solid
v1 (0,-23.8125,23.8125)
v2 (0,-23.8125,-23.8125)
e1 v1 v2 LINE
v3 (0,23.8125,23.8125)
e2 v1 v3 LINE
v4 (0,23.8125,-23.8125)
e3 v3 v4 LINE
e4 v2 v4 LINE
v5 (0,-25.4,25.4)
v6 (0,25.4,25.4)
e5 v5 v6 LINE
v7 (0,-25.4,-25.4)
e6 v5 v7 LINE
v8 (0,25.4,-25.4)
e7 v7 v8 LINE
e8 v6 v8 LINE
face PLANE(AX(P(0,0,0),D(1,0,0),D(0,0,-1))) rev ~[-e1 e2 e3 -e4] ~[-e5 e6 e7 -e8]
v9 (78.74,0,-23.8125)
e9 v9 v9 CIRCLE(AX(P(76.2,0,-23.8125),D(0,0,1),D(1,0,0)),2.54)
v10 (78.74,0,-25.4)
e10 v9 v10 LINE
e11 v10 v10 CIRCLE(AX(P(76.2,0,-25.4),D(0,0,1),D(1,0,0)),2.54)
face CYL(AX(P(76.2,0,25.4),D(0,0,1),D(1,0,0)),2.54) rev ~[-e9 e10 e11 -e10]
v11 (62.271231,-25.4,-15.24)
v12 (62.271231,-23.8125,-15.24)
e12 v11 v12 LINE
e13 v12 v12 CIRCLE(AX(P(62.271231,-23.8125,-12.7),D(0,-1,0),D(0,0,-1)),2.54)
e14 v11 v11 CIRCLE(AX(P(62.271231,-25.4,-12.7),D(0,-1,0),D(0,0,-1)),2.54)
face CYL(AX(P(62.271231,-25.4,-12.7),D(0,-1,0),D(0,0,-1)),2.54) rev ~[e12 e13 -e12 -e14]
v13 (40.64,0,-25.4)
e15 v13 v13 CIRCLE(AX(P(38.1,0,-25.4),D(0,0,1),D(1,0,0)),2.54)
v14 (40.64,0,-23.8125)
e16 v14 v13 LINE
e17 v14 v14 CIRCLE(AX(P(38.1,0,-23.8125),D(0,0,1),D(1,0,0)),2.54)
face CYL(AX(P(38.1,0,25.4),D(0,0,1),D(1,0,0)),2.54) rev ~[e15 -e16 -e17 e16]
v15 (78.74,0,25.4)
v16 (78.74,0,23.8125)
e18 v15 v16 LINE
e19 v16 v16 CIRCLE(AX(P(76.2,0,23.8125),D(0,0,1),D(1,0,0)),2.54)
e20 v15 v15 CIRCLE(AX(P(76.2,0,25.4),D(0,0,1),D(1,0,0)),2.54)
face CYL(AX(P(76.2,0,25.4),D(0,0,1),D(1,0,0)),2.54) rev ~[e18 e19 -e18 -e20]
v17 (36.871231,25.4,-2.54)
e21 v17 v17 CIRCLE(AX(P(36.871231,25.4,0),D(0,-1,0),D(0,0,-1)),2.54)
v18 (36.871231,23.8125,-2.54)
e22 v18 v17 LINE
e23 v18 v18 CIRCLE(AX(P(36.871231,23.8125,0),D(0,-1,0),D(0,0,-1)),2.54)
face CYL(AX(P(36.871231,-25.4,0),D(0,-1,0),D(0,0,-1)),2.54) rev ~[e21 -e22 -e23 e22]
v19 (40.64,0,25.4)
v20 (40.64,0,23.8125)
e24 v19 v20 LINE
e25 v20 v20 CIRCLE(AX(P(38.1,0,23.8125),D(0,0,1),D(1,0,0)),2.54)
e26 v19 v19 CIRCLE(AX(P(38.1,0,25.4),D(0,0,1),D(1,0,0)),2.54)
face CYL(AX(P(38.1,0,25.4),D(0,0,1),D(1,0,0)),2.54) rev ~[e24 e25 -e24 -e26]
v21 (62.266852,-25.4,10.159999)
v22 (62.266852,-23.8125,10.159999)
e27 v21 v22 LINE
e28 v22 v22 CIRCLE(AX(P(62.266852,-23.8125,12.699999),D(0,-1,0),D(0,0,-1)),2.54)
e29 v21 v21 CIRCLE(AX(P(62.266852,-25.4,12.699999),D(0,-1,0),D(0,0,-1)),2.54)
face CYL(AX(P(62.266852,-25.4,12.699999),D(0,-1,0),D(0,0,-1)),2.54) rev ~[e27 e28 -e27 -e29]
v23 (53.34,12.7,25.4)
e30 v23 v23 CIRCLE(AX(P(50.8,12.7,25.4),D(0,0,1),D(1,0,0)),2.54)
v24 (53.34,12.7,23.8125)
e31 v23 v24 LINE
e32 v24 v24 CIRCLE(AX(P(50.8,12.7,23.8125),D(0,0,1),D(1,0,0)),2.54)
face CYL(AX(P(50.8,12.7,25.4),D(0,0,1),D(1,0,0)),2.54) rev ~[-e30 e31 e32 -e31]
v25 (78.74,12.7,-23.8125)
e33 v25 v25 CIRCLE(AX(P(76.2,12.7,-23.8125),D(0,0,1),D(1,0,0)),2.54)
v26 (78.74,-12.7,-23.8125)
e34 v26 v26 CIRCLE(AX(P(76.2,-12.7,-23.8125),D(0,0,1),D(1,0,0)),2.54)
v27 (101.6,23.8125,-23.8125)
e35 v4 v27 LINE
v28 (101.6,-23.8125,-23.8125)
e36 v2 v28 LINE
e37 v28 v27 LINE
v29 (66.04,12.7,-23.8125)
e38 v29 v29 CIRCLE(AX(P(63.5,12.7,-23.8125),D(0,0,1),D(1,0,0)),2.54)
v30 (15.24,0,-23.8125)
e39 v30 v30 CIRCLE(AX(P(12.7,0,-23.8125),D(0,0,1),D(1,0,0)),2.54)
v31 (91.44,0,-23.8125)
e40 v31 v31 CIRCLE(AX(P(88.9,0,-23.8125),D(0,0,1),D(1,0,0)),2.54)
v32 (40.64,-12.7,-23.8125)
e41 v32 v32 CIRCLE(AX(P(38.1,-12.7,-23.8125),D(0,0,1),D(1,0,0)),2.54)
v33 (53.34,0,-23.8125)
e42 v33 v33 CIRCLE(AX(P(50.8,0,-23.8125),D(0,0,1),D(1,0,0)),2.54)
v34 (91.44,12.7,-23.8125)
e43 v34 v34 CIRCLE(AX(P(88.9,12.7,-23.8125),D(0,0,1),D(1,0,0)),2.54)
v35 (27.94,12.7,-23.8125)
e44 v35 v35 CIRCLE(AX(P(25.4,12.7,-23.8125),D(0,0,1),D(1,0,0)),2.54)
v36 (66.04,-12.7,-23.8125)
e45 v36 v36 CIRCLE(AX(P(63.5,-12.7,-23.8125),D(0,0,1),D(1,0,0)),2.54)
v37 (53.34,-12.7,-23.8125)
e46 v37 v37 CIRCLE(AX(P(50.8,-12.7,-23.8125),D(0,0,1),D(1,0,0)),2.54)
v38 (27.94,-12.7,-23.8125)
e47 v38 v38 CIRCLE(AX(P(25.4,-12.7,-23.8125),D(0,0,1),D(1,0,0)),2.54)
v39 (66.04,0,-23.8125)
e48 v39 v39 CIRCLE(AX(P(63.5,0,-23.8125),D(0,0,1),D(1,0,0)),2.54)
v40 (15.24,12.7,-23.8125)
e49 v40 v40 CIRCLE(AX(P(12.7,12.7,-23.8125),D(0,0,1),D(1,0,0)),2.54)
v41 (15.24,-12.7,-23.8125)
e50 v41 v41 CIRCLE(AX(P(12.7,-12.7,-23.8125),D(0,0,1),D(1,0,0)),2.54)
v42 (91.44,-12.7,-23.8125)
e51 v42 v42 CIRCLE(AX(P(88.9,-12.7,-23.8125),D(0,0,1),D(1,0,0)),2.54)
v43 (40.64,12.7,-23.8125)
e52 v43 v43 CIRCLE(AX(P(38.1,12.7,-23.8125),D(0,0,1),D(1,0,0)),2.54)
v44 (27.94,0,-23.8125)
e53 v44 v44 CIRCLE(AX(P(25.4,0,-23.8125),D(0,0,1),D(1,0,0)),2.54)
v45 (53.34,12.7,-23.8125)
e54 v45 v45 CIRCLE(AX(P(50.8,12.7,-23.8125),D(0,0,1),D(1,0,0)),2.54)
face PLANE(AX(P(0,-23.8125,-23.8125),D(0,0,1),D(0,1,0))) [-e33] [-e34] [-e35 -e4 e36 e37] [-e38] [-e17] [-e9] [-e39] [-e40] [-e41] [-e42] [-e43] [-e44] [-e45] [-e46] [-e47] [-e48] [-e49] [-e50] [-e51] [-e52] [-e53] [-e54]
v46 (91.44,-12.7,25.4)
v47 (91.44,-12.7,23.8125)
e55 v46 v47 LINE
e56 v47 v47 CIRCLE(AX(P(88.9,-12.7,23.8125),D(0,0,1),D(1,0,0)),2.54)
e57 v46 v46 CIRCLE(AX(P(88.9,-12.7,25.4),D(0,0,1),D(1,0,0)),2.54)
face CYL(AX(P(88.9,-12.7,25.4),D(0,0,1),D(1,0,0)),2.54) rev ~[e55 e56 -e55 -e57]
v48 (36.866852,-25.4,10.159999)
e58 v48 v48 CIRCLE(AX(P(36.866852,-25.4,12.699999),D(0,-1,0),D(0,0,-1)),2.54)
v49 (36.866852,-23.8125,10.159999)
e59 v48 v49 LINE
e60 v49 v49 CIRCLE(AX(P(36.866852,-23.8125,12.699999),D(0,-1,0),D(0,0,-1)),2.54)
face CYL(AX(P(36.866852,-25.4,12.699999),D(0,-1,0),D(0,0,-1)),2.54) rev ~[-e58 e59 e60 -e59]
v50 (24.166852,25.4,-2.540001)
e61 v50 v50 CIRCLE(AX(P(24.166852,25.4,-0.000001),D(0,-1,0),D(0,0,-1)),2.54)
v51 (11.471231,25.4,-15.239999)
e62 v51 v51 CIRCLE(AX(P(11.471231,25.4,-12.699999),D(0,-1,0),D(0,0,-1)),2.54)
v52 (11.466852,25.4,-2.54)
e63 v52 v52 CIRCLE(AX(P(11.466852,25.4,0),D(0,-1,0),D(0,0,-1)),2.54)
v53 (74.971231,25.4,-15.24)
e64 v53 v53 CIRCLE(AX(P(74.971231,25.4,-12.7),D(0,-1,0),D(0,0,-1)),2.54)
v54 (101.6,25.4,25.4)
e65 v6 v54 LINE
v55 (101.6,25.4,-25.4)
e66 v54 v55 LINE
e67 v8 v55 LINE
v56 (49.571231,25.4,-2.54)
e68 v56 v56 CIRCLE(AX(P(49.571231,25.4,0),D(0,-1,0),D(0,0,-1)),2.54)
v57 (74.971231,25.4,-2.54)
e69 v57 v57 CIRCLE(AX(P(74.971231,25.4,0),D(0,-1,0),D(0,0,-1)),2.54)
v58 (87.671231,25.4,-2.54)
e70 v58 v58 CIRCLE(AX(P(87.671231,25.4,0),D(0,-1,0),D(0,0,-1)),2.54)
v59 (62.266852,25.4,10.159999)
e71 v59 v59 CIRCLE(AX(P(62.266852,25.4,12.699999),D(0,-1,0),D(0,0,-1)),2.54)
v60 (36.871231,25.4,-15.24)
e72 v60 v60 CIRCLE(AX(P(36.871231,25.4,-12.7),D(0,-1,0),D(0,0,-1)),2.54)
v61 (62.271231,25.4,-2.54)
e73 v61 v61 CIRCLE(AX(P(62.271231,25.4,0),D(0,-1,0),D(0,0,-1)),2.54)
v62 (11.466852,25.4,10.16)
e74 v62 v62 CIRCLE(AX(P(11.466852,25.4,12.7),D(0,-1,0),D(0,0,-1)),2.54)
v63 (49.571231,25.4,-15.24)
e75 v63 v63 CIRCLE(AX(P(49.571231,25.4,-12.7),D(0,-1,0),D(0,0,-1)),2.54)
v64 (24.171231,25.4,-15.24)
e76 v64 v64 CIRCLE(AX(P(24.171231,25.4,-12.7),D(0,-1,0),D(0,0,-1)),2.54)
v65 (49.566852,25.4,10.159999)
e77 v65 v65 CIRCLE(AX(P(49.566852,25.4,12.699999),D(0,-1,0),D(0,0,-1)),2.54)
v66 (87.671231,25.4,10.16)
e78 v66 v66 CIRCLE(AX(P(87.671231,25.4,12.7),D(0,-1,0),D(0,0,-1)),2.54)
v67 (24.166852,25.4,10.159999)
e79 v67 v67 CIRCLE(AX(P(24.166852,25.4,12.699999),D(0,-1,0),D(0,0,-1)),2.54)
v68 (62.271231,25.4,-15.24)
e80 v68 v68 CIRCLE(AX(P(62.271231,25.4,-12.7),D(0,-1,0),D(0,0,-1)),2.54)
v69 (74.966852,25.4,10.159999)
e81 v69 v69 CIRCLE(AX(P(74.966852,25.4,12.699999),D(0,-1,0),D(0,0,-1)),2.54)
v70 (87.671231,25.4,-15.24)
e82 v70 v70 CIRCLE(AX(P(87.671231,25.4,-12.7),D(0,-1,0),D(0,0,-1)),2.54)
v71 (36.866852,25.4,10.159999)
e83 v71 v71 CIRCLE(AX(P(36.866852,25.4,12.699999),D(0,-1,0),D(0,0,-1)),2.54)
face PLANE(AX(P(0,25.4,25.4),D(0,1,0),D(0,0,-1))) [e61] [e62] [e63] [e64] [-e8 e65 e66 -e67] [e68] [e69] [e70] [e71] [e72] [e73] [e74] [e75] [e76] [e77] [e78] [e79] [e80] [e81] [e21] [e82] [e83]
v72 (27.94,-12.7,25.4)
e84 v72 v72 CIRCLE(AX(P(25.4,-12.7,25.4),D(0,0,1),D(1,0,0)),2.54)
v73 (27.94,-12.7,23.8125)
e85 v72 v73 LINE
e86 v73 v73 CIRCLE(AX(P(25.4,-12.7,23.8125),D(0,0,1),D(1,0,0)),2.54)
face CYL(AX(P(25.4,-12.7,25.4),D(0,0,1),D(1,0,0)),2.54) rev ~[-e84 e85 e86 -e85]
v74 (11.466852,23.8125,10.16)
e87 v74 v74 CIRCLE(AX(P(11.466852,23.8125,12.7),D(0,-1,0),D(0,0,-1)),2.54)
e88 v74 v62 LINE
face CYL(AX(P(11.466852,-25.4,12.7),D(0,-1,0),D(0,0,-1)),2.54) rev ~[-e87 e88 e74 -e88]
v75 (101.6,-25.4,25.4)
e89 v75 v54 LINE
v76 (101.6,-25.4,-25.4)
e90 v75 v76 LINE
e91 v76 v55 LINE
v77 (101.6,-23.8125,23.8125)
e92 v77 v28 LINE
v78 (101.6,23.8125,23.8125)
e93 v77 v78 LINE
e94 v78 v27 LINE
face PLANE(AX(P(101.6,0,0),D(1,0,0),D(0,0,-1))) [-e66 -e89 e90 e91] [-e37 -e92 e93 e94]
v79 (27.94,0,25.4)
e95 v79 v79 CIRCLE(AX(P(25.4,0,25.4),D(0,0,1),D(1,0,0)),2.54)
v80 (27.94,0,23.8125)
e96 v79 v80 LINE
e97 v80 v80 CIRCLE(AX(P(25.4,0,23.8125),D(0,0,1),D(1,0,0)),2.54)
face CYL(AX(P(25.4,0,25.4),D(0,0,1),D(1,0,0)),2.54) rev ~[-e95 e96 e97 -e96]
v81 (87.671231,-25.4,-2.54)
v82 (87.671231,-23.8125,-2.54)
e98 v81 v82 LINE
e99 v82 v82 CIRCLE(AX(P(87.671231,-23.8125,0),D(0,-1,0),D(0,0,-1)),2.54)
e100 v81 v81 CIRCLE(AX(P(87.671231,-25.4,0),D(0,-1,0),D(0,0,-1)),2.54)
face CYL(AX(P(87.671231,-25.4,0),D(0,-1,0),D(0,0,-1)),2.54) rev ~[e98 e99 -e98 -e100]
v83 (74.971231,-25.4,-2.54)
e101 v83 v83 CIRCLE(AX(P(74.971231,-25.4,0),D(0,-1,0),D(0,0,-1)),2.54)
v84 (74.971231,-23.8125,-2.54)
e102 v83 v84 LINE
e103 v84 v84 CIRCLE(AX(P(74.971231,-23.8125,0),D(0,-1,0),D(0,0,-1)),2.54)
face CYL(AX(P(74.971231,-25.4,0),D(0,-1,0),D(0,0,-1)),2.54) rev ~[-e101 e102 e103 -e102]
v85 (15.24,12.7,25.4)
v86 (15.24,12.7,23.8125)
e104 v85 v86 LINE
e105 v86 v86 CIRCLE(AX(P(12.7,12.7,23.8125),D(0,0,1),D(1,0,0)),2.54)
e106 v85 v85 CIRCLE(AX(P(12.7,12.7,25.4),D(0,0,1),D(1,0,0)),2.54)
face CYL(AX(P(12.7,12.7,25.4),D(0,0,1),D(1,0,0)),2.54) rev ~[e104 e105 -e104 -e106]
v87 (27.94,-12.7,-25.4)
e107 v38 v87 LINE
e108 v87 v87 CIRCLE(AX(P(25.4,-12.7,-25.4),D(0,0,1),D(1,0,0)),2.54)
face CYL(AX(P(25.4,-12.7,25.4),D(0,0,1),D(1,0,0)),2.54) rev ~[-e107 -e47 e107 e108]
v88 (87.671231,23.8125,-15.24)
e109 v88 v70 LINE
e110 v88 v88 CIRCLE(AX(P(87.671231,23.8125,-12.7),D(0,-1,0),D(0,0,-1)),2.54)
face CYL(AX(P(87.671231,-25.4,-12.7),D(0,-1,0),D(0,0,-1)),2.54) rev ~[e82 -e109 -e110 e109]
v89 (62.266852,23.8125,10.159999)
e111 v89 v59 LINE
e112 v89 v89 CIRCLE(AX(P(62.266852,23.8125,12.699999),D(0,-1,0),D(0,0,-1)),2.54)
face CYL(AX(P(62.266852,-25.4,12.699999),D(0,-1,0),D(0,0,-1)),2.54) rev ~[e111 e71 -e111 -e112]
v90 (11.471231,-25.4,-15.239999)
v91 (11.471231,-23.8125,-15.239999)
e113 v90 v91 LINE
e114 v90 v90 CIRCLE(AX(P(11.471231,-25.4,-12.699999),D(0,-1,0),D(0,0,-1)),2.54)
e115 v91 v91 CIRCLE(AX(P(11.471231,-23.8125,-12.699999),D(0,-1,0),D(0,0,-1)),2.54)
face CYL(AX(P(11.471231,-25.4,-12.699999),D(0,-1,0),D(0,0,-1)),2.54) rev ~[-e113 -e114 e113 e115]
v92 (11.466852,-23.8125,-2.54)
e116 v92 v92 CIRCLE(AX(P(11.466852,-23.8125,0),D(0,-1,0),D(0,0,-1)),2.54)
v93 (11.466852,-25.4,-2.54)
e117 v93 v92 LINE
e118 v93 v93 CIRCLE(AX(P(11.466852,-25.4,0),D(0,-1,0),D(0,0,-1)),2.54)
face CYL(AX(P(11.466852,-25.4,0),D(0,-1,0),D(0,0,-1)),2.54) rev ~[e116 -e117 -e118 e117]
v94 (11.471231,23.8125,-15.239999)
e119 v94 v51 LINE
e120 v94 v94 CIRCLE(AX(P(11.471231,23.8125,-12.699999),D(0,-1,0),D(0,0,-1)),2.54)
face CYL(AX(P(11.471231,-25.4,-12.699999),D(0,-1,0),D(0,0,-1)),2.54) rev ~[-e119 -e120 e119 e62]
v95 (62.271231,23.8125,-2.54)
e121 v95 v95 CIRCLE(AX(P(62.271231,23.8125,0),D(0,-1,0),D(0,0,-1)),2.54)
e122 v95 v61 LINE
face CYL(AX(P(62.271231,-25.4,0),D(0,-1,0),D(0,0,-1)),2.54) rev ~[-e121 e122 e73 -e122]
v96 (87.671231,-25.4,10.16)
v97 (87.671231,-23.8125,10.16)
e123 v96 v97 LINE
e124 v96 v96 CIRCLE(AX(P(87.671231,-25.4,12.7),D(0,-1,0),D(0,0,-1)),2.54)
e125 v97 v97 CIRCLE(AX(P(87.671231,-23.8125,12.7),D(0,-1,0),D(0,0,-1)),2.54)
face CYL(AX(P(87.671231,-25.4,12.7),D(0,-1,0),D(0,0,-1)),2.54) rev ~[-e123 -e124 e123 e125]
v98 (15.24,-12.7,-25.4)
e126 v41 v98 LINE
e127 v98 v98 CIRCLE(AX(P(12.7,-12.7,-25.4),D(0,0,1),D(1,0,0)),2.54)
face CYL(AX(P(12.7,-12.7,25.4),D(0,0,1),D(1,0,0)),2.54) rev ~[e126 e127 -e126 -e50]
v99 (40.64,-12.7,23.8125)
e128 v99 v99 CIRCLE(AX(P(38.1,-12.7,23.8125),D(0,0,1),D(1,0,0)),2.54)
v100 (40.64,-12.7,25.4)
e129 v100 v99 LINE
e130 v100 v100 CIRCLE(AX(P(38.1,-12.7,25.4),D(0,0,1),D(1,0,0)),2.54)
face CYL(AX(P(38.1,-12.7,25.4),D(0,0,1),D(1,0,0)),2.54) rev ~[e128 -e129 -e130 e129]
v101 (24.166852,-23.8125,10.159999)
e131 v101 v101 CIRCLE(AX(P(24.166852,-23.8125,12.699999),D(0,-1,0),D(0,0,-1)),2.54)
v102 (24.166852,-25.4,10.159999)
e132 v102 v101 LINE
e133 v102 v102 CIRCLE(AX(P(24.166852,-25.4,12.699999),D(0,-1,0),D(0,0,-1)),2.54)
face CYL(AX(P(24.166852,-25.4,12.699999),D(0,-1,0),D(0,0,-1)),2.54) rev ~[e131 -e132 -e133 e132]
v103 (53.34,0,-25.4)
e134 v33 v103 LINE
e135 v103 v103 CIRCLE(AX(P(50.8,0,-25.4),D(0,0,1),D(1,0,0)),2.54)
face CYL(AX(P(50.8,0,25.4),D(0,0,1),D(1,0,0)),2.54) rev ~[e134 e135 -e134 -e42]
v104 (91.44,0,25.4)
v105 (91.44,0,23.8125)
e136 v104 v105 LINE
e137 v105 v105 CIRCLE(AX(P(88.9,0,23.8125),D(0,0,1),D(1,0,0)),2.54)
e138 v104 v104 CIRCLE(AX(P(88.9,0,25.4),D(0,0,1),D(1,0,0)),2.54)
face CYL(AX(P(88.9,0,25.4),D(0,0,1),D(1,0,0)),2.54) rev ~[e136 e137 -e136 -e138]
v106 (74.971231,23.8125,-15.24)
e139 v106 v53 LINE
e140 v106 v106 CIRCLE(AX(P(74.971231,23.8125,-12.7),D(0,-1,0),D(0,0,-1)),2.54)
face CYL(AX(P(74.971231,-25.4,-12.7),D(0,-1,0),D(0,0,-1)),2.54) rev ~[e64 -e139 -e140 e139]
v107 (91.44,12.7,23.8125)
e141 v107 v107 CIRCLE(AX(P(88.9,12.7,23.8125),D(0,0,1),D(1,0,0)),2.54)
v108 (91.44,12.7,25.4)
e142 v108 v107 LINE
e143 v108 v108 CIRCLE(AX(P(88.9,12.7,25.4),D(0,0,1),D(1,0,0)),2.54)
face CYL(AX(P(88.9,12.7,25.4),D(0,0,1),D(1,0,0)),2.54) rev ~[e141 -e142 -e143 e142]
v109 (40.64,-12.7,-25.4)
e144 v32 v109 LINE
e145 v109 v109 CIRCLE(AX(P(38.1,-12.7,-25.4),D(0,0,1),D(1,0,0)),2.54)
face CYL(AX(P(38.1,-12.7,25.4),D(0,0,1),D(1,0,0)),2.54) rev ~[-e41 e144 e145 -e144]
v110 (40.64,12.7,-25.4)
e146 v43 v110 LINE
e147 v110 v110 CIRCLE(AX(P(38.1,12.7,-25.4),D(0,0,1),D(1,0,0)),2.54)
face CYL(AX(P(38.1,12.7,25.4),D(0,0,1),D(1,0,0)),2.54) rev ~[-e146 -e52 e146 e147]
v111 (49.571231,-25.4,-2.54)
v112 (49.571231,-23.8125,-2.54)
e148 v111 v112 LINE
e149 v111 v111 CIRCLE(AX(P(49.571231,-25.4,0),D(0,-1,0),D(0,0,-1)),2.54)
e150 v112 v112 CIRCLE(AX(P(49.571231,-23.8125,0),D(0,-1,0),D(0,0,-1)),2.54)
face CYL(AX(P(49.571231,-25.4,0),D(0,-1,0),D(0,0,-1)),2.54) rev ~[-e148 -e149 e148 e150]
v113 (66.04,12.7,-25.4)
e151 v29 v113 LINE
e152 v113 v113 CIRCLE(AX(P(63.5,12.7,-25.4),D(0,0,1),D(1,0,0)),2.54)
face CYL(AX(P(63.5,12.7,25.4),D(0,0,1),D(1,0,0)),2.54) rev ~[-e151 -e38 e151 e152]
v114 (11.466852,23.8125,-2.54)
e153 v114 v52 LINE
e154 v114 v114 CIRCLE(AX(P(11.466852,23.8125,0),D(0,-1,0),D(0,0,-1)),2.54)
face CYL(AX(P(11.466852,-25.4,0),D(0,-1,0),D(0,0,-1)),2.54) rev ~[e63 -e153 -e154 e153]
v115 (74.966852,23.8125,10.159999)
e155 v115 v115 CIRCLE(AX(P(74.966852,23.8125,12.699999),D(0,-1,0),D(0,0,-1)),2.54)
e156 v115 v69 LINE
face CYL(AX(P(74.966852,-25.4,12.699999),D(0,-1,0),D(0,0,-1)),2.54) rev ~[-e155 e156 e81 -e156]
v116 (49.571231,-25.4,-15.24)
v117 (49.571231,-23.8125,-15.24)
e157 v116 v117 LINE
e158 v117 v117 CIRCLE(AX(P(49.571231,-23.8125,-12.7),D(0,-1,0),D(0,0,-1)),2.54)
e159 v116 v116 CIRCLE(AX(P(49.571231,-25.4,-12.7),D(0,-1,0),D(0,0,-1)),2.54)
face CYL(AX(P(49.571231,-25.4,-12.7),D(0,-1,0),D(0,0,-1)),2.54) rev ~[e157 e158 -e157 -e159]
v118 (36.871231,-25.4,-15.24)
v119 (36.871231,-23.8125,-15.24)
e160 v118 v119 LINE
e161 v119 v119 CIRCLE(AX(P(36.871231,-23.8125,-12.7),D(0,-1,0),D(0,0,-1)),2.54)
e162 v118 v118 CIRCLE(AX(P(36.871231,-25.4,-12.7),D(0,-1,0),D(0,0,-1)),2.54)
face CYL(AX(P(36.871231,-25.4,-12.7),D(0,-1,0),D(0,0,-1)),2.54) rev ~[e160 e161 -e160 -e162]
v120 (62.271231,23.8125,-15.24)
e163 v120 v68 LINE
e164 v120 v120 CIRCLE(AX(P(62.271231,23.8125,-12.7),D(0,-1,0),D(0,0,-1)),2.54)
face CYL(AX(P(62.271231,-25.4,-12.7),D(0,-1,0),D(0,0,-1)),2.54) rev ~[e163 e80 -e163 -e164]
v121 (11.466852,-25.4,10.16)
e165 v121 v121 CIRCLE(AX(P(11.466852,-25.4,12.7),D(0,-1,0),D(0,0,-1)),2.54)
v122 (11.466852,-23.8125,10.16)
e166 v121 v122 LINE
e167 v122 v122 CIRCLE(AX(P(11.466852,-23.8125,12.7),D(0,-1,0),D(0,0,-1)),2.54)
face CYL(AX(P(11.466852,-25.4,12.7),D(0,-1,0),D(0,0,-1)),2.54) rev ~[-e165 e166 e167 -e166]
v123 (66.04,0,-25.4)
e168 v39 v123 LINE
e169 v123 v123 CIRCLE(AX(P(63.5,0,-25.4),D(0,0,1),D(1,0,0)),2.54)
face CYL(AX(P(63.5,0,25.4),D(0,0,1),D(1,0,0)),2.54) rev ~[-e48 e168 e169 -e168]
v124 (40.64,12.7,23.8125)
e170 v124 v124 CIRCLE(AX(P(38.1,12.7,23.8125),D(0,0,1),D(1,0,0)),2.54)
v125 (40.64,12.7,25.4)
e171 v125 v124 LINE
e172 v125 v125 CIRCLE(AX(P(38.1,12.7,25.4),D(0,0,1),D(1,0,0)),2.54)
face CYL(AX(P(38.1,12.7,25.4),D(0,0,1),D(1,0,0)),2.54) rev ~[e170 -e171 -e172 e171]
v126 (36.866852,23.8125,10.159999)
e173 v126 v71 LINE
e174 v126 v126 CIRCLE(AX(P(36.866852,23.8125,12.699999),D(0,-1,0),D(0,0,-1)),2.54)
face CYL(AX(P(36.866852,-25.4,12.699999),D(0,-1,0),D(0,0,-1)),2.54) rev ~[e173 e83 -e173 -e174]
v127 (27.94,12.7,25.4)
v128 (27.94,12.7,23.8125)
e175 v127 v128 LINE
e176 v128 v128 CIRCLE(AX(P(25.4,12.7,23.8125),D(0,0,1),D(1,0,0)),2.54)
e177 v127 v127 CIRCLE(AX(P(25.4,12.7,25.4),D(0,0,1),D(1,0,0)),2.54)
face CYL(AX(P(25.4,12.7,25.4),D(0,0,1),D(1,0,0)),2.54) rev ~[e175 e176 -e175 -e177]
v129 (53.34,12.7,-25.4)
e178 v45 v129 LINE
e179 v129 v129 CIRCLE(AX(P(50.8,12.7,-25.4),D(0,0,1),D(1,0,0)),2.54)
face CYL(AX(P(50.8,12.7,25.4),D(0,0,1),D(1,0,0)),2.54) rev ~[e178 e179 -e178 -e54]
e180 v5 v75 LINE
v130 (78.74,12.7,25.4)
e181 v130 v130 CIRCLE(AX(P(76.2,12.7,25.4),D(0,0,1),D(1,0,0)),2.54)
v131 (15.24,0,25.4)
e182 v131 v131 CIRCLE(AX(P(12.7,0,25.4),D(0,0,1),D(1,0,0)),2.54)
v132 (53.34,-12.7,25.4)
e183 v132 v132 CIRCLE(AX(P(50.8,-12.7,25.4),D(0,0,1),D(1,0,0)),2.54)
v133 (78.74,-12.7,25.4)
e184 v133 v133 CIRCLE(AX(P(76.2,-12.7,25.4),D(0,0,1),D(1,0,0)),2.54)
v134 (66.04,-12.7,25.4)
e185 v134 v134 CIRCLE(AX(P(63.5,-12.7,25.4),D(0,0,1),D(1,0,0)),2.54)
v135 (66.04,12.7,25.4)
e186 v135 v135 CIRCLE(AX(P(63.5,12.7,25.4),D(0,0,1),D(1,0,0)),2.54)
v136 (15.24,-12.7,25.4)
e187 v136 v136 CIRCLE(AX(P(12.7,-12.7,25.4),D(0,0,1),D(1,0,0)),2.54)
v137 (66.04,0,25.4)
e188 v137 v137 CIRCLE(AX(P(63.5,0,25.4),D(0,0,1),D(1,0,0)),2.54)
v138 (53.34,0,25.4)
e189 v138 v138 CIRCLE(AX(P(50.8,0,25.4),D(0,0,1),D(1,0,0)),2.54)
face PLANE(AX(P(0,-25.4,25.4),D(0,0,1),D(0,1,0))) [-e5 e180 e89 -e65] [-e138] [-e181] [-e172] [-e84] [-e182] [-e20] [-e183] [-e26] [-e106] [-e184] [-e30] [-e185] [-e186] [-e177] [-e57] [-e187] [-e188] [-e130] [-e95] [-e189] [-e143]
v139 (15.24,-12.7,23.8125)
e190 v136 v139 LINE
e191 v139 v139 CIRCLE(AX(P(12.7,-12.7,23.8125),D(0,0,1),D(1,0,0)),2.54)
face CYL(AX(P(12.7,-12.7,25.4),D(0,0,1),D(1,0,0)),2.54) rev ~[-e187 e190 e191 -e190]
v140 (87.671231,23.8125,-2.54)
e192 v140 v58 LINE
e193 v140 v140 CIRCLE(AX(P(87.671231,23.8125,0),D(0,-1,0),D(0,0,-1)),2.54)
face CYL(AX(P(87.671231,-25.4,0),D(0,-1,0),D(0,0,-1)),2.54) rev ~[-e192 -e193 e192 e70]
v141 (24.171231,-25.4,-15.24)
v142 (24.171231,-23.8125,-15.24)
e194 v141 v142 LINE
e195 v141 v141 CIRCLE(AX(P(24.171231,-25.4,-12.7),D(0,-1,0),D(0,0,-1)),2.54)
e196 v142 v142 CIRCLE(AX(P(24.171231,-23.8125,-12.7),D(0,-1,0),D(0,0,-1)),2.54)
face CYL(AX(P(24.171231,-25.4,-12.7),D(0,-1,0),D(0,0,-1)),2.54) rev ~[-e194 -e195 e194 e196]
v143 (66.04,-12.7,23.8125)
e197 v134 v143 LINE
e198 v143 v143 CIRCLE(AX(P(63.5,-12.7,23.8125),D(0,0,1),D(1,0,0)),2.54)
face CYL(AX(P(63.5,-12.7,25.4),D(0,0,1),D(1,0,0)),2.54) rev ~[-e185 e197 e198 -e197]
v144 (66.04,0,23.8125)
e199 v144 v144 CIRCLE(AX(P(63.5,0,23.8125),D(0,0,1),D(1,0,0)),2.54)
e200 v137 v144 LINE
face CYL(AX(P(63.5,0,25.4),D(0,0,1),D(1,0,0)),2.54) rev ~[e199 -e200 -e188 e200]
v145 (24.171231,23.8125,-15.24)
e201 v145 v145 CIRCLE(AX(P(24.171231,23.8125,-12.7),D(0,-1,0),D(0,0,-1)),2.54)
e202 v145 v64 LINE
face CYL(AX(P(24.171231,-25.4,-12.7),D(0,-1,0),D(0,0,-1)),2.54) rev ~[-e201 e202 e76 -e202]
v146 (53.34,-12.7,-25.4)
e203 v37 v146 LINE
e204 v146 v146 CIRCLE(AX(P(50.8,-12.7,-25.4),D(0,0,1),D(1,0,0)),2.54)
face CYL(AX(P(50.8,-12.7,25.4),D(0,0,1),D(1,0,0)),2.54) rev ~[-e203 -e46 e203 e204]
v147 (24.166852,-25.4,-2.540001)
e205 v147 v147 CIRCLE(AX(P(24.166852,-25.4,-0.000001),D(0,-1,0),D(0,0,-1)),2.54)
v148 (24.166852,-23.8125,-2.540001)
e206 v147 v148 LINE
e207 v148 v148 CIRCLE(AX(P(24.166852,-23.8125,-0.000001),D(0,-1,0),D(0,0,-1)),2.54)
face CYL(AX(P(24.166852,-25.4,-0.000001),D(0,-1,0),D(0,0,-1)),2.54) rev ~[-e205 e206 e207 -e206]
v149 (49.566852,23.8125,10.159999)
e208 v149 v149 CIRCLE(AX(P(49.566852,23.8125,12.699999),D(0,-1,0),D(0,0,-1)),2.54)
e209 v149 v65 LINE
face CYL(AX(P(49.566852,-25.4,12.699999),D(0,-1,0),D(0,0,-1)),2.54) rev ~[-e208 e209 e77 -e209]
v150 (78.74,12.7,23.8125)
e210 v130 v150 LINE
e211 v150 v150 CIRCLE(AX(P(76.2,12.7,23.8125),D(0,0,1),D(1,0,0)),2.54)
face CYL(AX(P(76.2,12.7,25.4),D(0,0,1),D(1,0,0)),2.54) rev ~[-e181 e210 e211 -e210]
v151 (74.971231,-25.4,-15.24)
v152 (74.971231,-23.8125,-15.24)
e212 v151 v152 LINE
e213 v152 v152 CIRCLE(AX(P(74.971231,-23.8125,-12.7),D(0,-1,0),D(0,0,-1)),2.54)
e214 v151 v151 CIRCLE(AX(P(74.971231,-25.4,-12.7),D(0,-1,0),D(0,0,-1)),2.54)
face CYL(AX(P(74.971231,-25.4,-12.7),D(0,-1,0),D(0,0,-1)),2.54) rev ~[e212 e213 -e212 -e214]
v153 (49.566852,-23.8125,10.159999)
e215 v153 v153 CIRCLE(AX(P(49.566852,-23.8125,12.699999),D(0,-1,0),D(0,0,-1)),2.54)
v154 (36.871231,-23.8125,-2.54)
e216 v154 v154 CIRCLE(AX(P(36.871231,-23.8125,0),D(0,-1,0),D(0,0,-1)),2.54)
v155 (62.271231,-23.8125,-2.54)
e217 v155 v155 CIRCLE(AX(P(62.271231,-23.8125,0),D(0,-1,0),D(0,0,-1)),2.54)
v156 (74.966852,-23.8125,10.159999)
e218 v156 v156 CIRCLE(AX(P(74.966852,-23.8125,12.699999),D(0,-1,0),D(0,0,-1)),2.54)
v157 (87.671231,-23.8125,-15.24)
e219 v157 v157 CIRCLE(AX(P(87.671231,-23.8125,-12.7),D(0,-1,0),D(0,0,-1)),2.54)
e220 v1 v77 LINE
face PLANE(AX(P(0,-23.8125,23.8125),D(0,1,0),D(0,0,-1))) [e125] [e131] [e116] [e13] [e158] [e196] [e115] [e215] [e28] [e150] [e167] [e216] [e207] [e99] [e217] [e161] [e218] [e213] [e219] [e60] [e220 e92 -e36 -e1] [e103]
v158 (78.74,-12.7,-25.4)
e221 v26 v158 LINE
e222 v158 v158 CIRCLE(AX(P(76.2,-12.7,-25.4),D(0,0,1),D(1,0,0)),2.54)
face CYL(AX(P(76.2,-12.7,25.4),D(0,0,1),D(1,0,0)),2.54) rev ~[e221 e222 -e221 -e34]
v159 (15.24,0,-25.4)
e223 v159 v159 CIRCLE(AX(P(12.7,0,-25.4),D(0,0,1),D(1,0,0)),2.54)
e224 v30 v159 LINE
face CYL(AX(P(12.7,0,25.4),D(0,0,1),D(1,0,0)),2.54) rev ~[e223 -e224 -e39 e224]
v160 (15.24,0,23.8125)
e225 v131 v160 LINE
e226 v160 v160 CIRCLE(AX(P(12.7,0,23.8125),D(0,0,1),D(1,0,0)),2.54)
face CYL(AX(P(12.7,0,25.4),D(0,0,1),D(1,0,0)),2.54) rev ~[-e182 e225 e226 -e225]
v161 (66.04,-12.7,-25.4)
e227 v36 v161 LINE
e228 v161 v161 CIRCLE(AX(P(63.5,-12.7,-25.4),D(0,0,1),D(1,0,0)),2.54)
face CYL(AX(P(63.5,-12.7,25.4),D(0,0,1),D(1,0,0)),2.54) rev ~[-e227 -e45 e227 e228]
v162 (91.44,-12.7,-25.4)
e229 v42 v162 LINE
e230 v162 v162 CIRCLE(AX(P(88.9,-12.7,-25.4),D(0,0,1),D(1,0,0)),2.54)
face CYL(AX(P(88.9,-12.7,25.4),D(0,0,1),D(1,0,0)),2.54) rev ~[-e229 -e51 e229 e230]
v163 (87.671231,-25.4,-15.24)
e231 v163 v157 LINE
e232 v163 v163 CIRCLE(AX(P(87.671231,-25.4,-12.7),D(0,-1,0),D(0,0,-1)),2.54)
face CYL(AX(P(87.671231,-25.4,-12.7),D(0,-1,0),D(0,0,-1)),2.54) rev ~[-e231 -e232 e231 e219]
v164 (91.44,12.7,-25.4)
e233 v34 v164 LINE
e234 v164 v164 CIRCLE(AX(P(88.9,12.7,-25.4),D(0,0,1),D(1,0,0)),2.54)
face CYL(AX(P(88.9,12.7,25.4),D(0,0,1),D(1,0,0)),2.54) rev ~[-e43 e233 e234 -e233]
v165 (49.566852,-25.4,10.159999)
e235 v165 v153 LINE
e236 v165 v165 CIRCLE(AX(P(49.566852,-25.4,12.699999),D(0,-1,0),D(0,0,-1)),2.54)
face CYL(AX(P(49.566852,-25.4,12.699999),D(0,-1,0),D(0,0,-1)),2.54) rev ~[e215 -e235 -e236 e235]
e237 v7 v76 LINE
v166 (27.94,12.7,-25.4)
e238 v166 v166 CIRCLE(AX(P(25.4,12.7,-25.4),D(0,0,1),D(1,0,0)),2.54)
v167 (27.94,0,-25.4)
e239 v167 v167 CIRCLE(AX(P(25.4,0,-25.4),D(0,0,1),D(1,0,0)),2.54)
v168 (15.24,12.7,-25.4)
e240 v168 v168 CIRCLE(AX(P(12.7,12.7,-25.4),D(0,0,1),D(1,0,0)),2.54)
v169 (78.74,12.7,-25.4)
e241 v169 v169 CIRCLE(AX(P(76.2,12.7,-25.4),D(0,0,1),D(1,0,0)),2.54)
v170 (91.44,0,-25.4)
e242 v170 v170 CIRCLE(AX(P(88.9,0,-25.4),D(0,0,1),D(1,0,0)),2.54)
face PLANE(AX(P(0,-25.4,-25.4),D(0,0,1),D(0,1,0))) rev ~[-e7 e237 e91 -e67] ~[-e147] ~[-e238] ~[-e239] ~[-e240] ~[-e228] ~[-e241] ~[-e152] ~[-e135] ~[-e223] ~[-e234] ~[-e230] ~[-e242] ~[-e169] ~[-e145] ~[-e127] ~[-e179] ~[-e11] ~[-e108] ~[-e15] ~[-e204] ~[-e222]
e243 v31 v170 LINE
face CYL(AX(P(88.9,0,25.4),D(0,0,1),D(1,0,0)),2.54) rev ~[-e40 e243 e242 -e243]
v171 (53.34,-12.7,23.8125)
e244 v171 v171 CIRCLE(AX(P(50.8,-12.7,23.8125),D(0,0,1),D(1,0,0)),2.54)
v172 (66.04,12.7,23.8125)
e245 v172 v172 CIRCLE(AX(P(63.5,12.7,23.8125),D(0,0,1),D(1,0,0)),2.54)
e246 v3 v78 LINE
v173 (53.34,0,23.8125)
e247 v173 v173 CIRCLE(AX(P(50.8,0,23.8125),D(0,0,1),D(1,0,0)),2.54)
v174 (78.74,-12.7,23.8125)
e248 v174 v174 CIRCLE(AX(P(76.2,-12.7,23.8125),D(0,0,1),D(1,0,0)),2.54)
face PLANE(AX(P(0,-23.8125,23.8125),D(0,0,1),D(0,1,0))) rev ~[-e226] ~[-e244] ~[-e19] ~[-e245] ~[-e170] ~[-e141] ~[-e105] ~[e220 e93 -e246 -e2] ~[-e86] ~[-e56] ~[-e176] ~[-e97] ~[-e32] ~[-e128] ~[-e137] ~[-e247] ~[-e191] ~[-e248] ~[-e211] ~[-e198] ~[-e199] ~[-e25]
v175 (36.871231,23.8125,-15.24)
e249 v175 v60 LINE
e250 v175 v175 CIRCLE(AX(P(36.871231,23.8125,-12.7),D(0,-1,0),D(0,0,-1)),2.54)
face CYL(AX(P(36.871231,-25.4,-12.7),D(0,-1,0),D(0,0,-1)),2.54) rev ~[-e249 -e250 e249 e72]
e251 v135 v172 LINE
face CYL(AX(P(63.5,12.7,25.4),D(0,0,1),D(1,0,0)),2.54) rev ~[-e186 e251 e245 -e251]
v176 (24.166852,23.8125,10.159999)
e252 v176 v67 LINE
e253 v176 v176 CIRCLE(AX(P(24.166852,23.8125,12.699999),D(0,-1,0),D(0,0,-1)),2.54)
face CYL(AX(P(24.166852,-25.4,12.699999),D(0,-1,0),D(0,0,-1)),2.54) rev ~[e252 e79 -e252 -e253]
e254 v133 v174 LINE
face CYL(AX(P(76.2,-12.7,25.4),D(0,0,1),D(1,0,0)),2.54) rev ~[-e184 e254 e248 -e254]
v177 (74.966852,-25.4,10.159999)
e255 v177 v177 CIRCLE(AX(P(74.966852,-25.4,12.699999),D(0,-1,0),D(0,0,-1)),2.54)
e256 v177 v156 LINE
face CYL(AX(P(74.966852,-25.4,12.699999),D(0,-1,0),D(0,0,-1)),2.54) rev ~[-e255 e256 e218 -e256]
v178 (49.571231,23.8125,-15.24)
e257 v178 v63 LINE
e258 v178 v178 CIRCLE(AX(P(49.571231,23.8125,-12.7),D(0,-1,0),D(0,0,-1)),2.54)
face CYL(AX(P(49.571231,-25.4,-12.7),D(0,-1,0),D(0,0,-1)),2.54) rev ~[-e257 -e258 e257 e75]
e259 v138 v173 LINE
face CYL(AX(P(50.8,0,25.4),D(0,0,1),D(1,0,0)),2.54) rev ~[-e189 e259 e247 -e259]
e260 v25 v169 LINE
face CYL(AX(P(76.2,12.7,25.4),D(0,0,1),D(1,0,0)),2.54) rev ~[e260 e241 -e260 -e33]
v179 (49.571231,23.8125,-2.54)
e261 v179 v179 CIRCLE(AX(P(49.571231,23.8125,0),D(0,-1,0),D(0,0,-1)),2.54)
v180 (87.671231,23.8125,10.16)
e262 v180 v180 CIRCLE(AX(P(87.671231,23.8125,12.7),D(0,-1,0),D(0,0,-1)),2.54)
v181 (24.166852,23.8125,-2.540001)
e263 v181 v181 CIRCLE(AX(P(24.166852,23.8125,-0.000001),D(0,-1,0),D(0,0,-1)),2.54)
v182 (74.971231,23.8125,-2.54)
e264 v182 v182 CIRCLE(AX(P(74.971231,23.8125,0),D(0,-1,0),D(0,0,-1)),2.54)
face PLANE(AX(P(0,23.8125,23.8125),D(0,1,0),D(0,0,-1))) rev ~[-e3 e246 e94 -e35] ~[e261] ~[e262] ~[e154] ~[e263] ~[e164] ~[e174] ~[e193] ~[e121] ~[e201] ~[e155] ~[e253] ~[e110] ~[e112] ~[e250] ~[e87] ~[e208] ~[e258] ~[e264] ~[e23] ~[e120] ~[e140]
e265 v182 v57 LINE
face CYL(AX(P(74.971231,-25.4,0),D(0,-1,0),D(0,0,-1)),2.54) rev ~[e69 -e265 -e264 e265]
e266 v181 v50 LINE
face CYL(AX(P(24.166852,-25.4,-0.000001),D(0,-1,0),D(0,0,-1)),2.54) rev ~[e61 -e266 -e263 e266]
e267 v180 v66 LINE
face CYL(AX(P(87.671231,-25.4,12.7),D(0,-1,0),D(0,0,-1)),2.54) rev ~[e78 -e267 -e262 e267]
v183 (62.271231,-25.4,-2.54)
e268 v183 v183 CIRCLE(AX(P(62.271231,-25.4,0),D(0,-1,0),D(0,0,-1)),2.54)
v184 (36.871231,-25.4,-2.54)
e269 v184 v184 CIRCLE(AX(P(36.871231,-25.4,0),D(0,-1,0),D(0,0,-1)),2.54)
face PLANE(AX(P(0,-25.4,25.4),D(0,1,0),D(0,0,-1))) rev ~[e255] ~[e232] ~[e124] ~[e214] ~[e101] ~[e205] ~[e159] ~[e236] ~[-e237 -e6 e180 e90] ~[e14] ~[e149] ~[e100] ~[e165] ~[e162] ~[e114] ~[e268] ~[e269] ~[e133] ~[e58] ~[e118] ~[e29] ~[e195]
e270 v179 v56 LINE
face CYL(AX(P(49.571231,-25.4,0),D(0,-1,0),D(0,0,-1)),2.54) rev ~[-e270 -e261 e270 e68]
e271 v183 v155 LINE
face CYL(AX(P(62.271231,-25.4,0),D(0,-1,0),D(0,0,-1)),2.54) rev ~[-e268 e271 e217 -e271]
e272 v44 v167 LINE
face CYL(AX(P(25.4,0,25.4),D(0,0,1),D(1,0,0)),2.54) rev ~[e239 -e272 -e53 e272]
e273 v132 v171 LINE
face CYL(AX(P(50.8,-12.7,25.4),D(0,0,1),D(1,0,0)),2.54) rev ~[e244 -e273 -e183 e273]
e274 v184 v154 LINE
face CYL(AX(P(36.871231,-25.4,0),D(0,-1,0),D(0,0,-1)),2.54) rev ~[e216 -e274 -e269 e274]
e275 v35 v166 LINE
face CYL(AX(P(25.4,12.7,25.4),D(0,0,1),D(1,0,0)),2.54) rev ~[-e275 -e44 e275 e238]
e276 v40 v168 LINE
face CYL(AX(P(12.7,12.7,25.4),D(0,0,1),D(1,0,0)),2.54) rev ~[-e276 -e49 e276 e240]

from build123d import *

# Parameters (mm, degrees)
SKETCH1_W           = 50.8
SKETCH1_H           = 50.8
SKETCH1_W_2         = 47.625
SKETCH1_H_2         = 47.625
BOSS_EXTRUDE1_DEPTH = 101.6
SKETCH2_R           = 2.54
CUT_EXTRUDE2_DEPTH  = 609.6
SKETCH3_R           = 2.54
CUT_EXTRUDE3_DEPTH  = 76.2


with BuildPart() as part:
    # Sketch1 → Boss-Extrude1 (new body)
    with BuildSketch(Plane(origin=(0, 0, 0), x_dir=(0, 0, -1), z_dir=(1, 0, 0))):
        Rectangle(SKETCH1_W, SKETCH1_H)
        Rectangle(SKETCH1_W_2, SKETCH1_H_2, mode=Mode.SUBTRACT)
    extrude(amount=BOSS_EXTRUDE1_DEPTH)

    # Sketch2 → Cut-Extrude2 (cut)
    with BuildSketch(Plane.XY.offset(25.4)):
        with Locations((12.7, 12.7)):
            Circle(SKETCH2_R)
        with Locations((12.7, 0)):
            Circle(SKETCH2_R)
        with Locations((12.7, -12.7)):
            Circle(SKETCH2_R)
        with Locations((25.4, 12.7)):
            Circle(SKETCH2_R)
        with Locations((25.4, 0)):
            Circle(SKETCH2_R)
        with Locations((25.4, -12.7)):
            Circle(SKETCH2_R)
        with Locations((38.1, 12.7)):
            Circle(SKETCH2_R)
        with Locations((38.1, 0)):
            Circle(SKETCH2_R)
        with Locations((38.1, -12.7)):
            Circle(SKETCH2_R)
        with Locations((50.8, 12.7)):
            Circle(SKETCH2_R)
        with Locations((50.8, 0)):
            Circle(SKETCH2_R)
        with Locations((50.8, -12.7)):
            Circle(SKETCH2_R)
        with Locations((63.5, 12.7)):
            Circle(SKETCH2_R)
        with Locations((63.5, 0)):
            Circle(SKETCH2_R)
        with Locations((63.5, -12.7)):
            Circle(SKETCH2_R)
        with Locations((76.2, 12.7)):
            Circle(SKETCH2_R)
        with Locations((76.2, 0)):
            Circle(SKETCH2_R)
        with Locations((76.2, -12.7)):
            Circle(SKETCH2_R)
        with Locations((88.9, 12.7)):
            Circle(SKETCH2_R)
        with Locations((88.9, 0)):
            Circle(SKETCH2_R)
        with Locations((88.9, -12.7)):
            Circle(SKETCH2_R)
    extrude(amount=-CUT_EXTRUDE2_DEPTH, mode=Mode.SUBTRACT)

    # Sketch3 → Cut-Extrude3 (cut)
    with BuildSketch(Plane.XZ.offset(25.4)):
        with Locations(Location((11.466852122, 12.7, 0), (0, 0, 270))):
            Circle(SKETCH3_R)
        with Locations(Location((11.466852122, 0, 0), (0, 0, 270))):
            Circle(SKETCH3_R)
        with Locations(Location((11.471230502, -12.699999245, 0), (0, 0, 270))):
            Circle(SKETCH3_R)
        with Locations(Location((24.166852122, 12.699999245, 0), (0, 0, 270))):
            Circle(SKETCH3_R)
        with Locations(Location((24.166852122, -7.55e-07, 0), (0, 0, 270))):
            Circle(SKETCH3_R)
        with Locations(Location((24.171230502, -12.7, 0), (0, 0, 270))):
            Circle(SKETCH3_R)
        with Locations(Location((36.866852122, 12.699999245, 0), (0, 0, 270))):
            Circle(SKETCH3_R)
        with Locations(Location((36.871230502, 0, 0), (0, 0, 270))):
            Circle(SKETCH3_R)
        with Locations(Location((36.871230502, -12.7, 0), (0, 0, 270))):
            Circle(SKETCH3_R)
        with Locations(Location((49.566852122, 12.699999245, 0), (0, 0, 270))):
            Circle(SKETCH3_R)
        with Locations(Location((49.571230502, 0, 0), (0, 0, 270))):
            Circle(SKETCH3_R)
        with Locations(Location((49.571230502, -12.7, 0), (0, 0, 270))):
            Circle(SKETCH3_R)
        with Locations(Location((62.266852122, 12.699999245, 0), (0, 0, 270))):
            Circle(SKETCH3_R)
        with Locations(Location((62.271230502, 0, 0), (0, 0, 270))):
            Circle(SKETCH3_R)
        with Locations(Location((62.271230502, -12.7, 0), (0, 0, 270))):
            Circle(SKETCH3_R)
        with Locations(Location((74.966852122, 12.699999245, 0), (0, 0, 270))):
            Circle(SKETCH3_R)
        with Locations(Location((74.971230502, 0, 0), (0, 0, 270))):
            Circle(SKETCH3_R)
        with Locations(Location((74.971230502, -12.7, 0), (0, 0, 270))):
            Circle(SKETCH3_R)
        with Locations(Location((87.671230502, 12.7, 0), (0, 0, 270))):
            Circle(SKETCH3_R)
        with Locations(Location((87.671230502, 0, 0), (0, 0, 270))):
            Circle(SKETCH3_R)
        with Locations(Location((87.671230502, -12.7, 0), (0, 0, 270))):
            Circle(SKETCH3_R)
    extrude(amount=-CUT_EXTRUDE3_DEPTH, mode=Mode.SUBTRACT)


solid = part.part
